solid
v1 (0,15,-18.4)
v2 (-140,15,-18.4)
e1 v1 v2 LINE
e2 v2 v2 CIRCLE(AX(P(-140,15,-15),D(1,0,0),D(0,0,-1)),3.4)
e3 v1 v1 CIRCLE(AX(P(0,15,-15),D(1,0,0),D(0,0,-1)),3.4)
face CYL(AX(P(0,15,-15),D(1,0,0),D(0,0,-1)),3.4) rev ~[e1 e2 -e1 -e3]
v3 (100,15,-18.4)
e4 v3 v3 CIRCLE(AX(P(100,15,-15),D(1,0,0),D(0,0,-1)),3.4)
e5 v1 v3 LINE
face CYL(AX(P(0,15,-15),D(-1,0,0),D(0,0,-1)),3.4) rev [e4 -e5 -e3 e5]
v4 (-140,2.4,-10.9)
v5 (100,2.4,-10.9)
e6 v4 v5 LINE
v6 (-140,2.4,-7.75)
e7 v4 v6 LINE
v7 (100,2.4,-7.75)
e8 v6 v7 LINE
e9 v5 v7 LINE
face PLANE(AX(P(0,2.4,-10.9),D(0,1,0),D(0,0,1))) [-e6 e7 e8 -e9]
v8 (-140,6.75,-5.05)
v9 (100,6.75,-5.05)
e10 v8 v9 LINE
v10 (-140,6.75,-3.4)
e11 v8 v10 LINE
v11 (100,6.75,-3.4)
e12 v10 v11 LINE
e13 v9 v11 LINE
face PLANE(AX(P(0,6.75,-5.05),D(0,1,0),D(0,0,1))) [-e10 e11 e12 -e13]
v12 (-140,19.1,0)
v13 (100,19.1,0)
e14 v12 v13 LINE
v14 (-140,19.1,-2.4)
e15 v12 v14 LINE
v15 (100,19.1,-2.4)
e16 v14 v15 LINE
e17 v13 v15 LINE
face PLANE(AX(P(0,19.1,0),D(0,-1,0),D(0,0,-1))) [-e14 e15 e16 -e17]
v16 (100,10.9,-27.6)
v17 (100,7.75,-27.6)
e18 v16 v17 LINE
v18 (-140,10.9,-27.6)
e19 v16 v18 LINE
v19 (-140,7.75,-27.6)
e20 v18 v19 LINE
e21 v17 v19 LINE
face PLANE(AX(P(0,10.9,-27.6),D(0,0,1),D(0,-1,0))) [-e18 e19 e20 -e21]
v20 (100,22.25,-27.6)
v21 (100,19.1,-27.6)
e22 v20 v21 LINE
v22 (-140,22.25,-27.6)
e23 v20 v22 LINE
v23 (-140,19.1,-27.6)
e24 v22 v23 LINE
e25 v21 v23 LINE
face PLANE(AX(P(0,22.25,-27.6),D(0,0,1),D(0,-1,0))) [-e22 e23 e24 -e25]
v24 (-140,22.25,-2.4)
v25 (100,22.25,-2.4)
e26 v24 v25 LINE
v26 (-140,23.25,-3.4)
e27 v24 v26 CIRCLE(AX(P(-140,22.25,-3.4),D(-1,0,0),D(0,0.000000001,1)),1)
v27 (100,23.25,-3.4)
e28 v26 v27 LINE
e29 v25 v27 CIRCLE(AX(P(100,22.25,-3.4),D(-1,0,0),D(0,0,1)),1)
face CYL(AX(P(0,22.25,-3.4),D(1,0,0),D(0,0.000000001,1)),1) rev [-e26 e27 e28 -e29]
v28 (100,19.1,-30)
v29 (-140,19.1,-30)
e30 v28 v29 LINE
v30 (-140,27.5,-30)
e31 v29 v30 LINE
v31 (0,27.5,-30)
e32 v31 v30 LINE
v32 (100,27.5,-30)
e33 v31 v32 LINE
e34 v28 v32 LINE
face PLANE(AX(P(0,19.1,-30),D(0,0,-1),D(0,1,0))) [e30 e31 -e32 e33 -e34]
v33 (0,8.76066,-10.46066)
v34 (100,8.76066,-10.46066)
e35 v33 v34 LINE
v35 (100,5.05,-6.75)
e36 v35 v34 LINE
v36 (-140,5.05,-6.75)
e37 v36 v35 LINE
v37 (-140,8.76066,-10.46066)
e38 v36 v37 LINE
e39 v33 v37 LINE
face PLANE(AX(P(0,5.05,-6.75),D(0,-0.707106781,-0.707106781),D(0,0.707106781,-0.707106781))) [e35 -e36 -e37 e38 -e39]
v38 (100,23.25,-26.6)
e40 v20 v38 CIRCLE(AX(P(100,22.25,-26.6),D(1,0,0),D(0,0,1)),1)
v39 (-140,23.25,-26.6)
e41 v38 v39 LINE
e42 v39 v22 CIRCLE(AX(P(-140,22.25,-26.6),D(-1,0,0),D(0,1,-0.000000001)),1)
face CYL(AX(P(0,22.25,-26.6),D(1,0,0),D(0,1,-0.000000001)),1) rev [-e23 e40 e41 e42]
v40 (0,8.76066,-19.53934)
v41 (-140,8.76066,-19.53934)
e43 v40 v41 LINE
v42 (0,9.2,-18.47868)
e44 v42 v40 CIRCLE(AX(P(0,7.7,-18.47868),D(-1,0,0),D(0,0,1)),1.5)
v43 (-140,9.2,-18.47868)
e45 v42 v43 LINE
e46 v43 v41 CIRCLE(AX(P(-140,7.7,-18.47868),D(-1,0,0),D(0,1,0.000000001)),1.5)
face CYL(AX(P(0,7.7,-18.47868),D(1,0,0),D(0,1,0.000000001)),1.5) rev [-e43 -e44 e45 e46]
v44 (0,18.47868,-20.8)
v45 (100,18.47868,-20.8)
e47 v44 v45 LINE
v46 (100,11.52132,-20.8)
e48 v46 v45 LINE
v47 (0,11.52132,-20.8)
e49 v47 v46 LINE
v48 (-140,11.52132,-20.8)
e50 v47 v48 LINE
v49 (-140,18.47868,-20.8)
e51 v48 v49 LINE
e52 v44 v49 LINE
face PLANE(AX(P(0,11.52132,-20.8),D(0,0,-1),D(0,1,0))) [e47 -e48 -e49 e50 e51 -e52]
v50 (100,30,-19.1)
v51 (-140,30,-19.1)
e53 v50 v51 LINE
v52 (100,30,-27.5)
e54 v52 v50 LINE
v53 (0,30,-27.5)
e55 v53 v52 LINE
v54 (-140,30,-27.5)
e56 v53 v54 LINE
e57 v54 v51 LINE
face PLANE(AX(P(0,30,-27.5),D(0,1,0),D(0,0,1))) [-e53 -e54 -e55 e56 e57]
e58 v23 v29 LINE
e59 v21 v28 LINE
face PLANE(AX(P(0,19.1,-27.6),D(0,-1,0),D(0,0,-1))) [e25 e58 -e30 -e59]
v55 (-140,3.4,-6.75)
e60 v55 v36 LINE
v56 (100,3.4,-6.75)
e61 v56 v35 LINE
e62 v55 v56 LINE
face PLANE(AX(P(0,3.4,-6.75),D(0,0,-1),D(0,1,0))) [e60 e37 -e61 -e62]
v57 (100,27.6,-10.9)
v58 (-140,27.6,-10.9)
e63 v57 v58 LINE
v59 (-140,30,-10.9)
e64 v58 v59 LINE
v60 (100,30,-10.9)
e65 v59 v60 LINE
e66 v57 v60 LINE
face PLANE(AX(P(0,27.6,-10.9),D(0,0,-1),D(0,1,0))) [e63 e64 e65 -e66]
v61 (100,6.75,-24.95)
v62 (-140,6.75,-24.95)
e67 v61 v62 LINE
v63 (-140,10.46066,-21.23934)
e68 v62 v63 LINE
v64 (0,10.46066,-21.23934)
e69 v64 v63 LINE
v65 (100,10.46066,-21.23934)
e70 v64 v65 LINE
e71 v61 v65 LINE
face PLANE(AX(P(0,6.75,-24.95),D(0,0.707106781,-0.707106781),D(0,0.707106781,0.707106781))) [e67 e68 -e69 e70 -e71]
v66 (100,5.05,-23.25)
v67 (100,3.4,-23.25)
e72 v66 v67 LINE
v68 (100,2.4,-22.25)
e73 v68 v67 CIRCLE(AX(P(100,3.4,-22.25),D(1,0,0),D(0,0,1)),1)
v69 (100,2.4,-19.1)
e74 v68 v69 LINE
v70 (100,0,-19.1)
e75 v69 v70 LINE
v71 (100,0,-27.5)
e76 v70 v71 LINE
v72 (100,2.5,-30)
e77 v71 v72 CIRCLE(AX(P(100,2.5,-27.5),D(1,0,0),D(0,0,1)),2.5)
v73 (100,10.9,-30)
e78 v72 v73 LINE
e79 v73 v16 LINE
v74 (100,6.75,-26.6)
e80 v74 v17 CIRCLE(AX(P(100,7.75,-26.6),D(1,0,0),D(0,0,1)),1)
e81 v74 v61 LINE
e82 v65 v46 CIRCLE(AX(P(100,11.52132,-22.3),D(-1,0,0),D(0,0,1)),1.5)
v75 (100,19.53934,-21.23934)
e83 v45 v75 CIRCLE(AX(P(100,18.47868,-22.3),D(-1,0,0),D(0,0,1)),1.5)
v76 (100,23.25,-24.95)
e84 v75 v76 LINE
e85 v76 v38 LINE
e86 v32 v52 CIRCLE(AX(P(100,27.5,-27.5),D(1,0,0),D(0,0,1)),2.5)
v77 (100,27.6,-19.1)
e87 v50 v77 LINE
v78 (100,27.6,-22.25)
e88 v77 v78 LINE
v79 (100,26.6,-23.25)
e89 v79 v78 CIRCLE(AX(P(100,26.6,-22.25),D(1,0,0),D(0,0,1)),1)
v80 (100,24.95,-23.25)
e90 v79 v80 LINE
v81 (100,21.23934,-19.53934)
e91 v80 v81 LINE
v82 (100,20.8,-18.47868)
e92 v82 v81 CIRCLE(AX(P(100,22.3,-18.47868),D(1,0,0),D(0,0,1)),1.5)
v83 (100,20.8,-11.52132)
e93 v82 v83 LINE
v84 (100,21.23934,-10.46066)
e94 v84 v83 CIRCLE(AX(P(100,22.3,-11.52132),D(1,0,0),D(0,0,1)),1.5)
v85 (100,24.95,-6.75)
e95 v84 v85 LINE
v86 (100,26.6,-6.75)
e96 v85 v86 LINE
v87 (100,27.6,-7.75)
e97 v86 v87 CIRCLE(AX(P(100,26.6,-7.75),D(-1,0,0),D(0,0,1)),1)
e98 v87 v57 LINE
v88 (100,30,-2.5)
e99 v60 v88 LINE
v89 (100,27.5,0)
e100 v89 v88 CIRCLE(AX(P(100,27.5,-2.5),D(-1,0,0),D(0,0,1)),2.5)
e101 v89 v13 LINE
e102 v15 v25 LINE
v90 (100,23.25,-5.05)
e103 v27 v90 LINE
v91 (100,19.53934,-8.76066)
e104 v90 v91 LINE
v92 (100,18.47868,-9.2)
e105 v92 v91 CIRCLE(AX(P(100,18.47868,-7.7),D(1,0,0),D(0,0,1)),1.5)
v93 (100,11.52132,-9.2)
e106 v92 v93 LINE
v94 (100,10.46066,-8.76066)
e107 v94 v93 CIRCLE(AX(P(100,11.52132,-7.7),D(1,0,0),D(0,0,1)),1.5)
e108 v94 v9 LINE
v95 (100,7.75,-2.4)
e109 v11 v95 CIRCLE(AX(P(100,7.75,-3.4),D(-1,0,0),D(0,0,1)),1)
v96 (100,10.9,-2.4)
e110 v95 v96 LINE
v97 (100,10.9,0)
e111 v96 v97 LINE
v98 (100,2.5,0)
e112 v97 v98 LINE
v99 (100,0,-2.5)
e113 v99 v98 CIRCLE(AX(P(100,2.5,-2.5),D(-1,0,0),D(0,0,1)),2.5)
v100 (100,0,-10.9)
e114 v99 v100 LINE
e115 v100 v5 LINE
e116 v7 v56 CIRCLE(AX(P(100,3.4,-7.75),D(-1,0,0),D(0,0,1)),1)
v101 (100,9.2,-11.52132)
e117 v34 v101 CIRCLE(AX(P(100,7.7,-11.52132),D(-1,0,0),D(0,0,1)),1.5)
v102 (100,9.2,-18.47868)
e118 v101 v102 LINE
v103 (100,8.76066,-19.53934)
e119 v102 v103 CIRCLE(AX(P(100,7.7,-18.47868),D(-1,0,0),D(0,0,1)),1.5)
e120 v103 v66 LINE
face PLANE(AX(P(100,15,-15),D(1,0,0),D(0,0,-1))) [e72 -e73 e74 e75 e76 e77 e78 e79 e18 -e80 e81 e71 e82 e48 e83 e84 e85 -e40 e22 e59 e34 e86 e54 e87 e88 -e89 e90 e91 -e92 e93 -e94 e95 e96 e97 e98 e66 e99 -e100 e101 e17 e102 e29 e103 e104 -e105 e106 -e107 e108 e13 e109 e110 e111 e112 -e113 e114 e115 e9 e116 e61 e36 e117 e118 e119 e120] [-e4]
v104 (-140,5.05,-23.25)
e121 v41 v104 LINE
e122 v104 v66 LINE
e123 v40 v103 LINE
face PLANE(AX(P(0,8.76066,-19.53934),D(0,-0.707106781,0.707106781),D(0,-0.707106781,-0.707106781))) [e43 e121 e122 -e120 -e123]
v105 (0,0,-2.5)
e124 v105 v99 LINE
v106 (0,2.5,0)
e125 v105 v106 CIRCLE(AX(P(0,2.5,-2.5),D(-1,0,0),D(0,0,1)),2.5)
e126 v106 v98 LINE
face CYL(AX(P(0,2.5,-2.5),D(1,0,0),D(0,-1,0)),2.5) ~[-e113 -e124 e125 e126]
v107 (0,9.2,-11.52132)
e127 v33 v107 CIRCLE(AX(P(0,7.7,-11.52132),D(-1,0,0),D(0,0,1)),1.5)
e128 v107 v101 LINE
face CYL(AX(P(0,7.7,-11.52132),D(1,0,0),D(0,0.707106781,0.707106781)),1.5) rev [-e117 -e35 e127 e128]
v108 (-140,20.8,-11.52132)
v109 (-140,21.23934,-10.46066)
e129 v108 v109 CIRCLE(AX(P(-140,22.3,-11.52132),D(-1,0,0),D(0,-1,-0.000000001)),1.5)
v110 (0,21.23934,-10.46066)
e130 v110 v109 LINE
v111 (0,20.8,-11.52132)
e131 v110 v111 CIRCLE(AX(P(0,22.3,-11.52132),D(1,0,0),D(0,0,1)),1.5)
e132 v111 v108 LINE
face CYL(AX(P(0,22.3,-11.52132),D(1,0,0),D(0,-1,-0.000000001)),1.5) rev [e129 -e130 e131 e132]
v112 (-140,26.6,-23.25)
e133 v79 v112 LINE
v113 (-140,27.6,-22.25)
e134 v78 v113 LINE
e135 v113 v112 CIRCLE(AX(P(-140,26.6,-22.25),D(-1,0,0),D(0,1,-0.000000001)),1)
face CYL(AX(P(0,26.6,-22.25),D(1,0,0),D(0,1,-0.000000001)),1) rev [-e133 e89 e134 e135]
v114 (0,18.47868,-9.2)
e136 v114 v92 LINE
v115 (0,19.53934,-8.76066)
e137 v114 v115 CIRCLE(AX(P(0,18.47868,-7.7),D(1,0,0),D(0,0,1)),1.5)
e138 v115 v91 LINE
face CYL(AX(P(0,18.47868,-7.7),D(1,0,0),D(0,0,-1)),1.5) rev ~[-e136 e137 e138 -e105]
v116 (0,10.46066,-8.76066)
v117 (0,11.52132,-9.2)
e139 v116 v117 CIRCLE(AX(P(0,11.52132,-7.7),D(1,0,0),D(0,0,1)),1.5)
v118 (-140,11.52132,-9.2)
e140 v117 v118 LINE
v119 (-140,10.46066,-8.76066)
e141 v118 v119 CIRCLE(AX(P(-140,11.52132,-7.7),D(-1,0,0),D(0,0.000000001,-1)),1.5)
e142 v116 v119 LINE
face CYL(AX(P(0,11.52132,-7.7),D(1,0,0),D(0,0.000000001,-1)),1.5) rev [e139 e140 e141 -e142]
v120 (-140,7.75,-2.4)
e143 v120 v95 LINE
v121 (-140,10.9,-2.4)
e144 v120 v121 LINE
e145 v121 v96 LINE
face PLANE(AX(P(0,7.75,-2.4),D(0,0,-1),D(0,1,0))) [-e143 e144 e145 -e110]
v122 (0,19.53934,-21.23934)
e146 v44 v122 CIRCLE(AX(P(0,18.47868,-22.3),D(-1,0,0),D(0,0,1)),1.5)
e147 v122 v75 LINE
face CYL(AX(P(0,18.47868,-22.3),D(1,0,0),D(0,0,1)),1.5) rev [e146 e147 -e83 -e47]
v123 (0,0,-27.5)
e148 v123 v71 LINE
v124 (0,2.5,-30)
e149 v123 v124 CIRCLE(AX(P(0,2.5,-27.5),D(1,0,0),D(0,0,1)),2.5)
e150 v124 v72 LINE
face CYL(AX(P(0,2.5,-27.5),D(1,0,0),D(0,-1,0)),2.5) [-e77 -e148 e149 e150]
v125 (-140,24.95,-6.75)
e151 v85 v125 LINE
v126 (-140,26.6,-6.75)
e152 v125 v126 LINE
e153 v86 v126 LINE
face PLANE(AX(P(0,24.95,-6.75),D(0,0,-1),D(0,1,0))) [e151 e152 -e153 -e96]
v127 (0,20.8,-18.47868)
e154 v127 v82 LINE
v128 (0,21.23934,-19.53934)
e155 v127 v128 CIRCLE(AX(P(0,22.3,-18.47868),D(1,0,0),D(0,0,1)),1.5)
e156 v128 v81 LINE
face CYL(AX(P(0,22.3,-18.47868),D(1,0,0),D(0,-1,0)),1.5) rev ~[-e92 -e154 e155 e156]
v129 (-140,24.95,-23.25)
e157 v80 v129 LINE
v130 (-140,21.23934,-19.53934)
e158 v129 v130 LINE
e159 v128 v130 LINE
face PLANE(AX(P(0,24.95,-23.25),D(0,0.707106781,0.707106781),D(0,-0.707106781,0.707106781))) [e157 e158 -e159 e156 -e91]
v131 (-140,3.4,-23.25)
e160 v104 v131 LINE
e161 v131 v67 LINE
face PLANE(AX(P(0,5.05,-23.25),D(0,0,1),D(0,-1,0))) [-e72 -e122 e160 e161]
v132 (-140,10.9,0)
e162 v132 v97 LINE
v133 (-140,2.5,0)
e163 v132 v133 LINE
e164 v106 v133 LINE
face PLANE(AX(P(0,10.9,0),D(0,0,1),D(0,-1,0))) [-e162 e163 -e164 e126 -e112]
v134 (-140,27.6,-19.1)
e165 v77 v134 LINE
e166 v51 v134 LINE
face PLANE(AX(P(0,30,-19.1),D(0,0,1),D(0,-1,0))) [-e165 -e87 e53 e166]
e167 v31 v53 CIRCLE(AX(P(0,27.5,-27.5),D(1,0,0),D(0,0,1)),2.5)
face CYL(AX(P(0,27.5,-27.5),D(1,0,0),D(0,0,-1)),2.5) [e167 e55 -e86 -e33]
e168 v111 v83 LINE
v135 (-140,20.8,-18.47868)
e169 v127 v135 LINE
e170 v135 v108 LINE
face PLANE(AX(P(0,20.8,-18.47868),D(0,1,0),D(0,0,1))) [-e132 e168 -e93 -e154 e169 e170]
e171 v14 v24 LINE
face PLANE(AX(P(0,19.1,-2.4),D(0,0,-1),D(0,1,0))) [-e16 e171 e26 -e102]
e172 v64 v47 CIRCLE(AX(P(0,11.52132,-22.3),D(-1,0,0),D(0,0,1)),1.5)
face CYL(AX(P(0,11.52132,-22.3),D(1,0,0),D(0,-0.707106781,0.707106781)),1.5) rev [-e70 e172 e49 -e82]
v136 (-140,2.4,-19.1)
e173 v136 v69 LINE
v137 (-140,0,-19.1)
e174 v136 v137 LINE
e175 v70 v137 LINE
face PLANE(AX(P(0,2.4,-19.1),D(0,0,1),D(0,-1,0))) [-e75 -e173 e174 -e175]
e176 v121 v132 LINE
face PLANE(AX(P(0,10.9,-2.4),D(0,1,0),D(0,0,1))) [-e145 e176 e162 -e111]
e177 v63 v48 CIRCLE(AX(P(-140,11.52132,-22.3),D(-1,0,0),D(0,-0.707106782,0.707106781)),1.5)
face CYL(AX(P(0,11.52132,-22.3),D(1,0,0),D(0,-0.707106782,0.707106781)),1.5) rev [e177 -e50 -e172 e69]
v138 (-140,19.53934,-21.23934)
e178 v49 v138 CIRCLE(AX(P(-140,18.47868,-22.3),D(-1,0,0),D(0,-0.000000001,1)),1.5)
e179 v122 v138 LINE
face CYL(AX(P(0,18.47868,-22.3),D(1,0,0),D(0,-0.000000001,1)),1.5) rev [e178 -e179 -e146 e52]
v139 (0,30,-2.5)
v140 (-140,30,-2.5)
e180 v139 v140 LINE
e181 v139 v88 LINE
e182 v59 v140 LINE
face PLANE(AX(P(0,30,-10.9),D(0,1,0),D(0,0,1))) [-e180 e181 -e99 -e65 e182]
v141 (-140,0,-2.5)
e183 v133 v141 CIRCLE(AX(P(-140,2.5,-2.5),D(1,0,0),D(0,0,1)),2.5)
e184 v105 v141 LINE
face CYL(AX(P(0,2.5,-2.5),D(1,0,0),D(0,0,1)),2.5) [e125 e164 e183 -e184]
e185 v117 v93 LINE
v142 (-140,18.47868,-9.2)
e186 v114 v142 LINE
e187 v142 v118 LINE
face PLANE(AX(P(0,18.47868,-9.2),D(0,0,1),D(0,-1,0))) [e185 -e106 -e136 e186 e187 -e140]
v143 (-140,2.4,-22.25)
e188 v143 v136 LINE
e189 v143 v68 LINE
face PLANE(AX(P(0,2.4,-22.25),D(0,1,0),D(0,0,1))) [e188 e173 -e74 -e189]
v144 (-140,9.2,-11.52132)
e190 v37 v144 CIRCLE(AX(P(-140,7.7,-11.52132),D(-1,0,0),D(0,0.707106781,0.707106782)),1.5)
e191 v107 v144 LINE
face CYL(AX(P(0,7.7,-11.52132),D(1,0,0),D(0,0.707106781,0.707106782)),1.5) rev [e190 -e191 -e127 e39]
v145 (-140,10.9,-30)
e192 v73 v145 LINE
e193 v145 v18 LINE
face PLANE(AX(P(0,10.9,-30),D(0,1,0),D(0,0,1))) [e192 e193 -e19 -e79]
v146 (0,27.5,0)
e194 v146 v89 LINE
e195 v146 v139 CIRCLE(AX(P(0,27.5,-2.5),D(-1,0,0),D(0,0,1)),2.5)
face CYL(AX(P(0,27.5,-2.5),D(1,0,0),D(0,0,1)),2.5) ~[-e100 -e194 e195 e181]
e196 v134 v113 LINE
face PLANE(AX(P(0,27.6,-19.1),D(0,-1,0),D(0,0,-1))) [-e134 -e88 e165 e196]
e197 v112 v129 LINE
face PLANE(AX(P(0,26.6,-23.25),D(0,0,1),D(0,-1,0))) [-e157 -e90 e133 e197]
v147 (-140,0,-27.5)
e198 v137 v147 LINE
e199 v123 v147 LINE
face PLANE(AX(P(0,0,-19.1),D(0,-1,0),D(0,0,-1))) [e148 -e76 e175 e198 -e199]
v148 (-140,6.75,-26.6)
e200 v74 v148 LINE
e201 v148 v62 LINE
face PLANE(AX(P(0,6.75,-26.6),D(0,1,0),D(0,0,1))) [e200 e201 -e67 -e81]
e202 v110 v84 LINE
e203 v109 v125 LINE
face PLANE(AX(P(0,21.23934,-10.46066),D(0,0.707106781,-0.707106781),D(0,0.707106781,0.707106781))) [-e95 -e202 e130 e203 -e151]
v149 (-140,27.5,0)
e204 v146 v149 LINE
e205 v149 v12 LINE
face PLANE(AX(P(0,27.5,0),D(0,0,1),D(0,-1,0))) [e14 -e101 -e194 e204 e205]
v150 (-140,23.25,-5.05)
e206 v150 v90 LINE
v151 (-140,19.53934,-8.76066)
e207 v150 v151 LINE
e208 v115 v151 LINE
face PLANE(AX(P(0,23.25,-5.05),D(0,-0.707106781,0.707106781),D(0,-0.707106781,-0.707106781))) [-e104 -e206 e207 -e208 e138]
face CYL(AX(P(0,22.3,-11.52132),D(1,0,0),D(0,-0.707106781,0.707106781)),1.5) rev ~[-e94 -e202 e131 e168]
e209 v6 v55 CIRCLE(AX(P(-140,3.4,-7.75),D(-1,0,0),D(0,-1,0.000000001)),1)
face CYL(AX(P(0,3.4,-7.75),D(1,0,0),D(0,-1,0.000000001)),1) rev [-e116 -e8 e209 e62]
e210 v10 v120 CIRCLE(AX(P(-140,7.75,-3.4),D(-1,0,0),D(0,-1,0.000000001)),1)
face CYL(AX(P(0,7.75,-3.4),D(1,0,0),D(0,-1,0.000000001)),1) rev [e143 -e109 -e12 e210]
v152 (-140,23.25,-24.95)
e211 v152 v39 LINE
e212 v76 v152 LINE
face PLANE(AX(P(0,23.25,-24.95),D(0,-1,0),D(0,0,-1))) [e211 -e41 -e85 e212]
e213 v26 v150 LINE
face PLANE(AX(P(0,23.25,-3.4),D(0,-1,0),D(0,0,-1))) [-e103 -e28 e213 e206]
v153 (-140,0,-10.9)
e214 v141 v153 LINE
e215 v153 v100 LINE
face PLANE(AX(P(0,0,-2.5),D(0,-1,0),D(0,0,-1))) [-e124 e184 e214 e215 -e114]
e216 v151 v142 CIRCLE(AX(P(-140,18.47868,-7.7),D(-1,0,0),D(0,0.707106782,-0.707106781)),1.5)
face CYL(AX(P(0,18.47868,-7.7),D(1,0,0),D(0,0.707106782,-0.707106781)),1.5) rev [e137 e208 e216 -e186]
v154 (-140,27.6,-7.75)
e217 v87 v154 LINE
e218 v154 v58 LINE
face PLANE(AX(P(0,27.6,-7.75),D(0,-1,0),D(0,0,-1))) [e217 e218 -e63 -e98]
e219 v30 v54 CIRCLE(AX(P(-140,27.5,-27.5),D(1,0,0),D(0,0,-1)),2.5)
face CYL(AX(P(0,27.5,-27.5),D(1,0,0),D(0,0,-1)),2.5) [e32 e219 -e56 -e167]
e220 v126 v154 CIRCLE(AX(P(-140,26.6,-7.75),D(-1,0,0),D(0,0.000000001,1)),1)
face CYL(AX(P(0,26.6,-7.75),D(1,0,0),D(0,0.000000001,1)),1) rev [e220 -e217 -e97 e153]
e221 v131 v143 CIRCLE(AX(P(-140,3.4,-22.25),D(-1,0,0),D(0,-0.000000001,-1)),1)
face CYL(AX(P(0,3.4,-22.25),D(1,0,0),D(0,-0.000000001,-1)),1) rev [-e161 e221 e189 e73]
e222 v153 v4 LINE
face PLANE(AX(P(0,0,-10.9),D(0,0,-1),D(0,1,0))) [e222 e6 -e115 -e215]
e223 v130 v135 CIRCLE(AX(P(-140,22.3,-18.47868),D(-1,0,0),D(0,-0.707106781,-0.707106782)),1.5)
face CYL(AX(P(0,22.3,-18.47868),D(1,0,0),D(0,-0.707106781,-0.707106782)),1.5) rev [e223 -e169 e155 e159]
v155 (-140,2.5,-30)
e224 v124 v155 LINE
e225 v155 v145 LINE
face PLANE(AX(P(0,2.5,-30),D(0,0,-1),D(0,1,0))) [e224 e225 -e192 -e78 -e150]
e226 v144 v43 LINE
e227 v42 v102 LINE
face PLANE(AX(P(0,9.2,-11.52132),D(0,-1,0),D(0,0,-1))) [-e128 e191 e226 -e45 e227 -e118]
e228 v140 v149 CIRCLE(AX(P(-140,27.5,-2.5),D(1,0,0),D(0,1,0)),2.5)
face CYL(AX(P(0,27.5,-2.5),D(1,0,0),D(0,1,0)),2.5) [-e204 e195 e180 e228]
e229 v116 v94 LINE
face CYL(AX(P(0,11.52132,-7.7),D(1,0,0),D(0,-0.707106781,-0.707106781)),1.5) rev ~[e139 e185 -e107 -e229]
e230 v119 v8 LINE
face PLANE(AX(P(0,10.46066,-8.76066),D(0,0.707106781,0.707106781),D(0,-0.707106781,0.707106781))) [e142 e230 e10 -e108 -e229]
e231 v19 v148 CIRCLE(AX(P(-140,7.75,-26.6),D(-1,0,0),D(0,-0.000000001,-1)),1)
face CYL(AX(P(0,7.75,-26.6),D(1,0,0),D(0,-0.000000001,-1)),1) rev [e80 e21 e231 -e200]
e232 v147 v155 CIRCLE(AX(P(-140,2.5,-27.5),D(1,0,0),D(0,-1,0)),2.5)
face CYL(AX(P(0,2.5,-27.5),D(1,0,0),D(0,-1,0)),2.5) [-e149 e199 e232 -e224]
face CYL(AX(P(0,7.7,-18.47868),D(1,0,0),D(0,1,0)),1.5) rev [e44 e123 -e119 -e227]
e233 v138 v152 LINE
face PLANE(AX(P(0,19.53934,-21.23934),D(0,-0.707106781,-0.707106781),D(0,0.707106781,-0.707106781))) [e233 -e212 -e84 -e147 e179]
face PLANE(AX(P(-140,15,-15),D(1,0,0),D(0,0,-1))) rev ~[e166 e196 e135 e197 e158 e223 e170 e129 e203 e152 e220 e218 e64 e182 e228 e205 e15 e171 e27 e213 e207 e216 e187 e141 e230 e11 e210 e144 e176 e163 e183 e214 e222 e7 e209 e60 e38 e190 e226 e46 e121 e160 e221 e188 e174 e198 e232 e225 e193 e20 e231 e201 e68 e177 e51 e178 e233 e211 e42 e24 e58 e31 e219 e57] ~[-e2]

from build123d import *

# Parameters (mm, degrees)
SKETCH1_R           = 3.4
BOSS_EXTRUDE2_DEPTH = 100
FILLET5_R           = 2.5
FILLET6_R           = 1.5
FILLET7_R           = 1.5
FILLET8_R           = 1
SKETCH3_R           = 3.4
BOSS_EXTRUDE3_DEPTH = 140


with BuildPart() as part:
    # Sketch1 → Boss-Extrude2 (new body)
    with BuildSketch(Plane(origin=(0, 0, 0), x_dir=(0, 0, -1), z_dir=(1, 0, 0))):
        Polygon((10.9, 0), (10.9, 2.4), (6.75, 2.4), (6.75, 5.05), (10.9, 9.2), (19.1, 9.2), (23.25, 5.05), (23.25, 2.4), (19.1, 2.4), (19.1, 0), (30, 0), (30, 10.9), (27.6, 10.9), (27.6, 6.75), (24.95, 6.75), (20.8, 10.9), (20.8, 19.1), (24.95, 23.25), (27.6, 23.25), (27.6, 19.1), (30, 19.1), (30, 30), (19.1, 30), (19.1, 27.6), (23.25, 27.6), (23.25, 24.95), (19.1, 20.8), (10.9, 20.8), (6.75, 24.95), (6.75, 27.6), (10.9, 27.6), (10.9, 30), (0, 30), (0, 19.1), (2.4, 19.1), (2.4, 23.25), (5.05, 23.25), (9.2, 19.1), (9.2, 10.9), (5.05, 6.75), (2.4, 6.75), (2.4, 10.9), (0, 10.9), (0, 0), align=None)
        with Locations((15, 15)):
            Circle(SKETCH1_R, mode=Mode.SUBTRACT)
    extrude(amount=BOSS_EXTRUDE2_DEPTH)

    # Fillet5
    fillet5_edges = [part.edges().sort_by_distance(p)[0] for p in [
        (50, 30, 0),
        (50, 30, -30),
        (50, 0, -30),
        (50, 0, 0),
    ]]
    fillet(fillet5_edges, radius=FILLET5_R)

    # Fillet6
    fillet6_edges = [part.edges().sort_by_distance(p)[0] for p in [
        (50, 10.9, -9.2),
        (50, 19.1, -9.2),
        (50, 19.1, -20.8),
        (50, 10.9, -20.8),
        (50, 9.2, -19.1),
        (50, 9.2, -10.9),
    ]]
    fillet(fillet6_edges, radius=FILLET6_R)

    # Fillet7
    fillet7_edges = [part.edges().sort_by_distance(p)[0] for p in [
        (50, 20.8, -10.9),
        (50, 20.8, -19.1),
    ]]
    fillet(fillet7_edges, radius=FILLET7_R)

    # Fillet8
    fillet8_edges = [part.edges().sort_by_distance(p)[0] for p in [
        (50, 6.75, -2.4),
        (50, 23.25, -2.4),
        (50, 27.6, -6.75),
        (50, 27.6, -23.25),
        (50, 23.25, -27.6),
        (50, 6.75, -27.6),
        (50, 2.4, -23.25),
        (50, 2.4, -6.75),
    ]]
    fillet(fillet8_edges, radius=FILLET8_R)

    # Sketch3 → Boss-Extrude3 (add)
    with BuildSketch(Plane(origin=(0, 0, 0), x_dir=(0, 0, -1), z_dir=(1, 0, 0))):
        with BuildLine():
            Line((10.9, 27.6), (10.9, 30))
            Line((10.9, 30), (2.5, 30))
            ThreePointArc((2.5, 30), (0.732233047, 29.267766953), (0, 27.5))
            Line((0, 27.5), (0, 19.1))
            Line((0, 19.1), (2.4, 19.1))
            Line((2.4, 19.1), (2.4, 22.25))
            ThreePointArc((2.4, 22.25), (2.692893219, 22.957106781), (3.4, 23.25))
            Line((3.4, 23.25), (5.05, 23.25))
            Line((5.05, 23.25), (8.760660172, 19.539339828))
            ThreePointArc((8.760660172, 19.539339828), (9.085819299, 19.052704805), (9.2, 18.478679656))
            Line((9.2, 18.478679656), (9.2, 11.521320344))
            ThreePointArc((9.2, 11.521320344), (9.085819299, 10.947295195), (8.760660172, 10.460660172))
            Line((8.760660172, 10.460660172), (5.05, 6.75))
            Line((5.05, 6.75), (3.4, 6.75))
            ThreePointArc((3.4, 6.75), (2.692893219, 7.042893219), (2.4, 7.75))
            Line((2.4, 7.75), (2.4, 10.9))
            Line((2.4, 10.9), (0, 10.9))
            Line((0, 10.9), (0, 2.5))
            ThreePointArc((0, 2.5), (0.732233047, 0.732233047), (2.5, 0))
            Line((2.5, 0), (10.9, 0))
            Line((10.9, 0), (10.9, 2.4))
            Line((10.9, 2.4), (7.75, 2.4))
            ThreePointArc((7.75, 2.4), (7.042893219, 2.692893219), (6.75, 3.4))
            Line((6.75, 3.4), (6.75, 5.05))
            Line((6.75, 5.05), (10.460660172, 8.760660172))
            ThreePointArc((10.460660172, 8.760660172), (10.947295195, 9.085819299), (11.521320344, 9.2))
            Line((11.521320344, 9.2), (18.478679656, 9.2))
            ThreePointArc((18.478679656, 9.2), (19.052704805, 9.085819299), (19.539339828, 8.760660172))
            Line((19.539339828, 8.760660172), (23.25, 5.05))
            Line((23.25, 5.05), (23.25, 3.4))
            ThreePointArc((23.25, 3.4), (22.957106781, 2.692893219), (22.25, 2.4))
            Line((22.25, 2.4), (19.1, 2.4))
            Line((19.1, 2.4), (19.1, 0))
            Line((19.1, 0), (27.5, 0))
            ThreePointArc((27.5, 0), (29.267766953, 0.732233047), (30, 2.5))
            Line((30, 2.5), (30, 10.9))
            Line((30, 10.9), (27.6, 10.9))
            Line((27.6, 10.9), (27.6, 7.75))
            ThreePointArc((27.6, 7.75), (27.307106781, 7.042893219), (26.6, 6.75))
            Line((26.6, 6.75), (24.95, 6.75))
            Line((24.95, 6.75), (21.239339828, 10.460660172))
            ThreePointArc((21.239339828, 10.460660172), (20.914180701, 10.947295195), (20.8, 11.521320344))
            Line((20.8, 11.521320344), (20.8, 18.478679656))
            ThreePointArc((20.8, 18.478679656), (20.914180701, 19.052704805), (21.239339828, 19.539339828))
            Line((21.239339828, 19.539339828), (24.95, 23.25))
            Line((24.95, 23.25), (26.6, 23.25))
            ThreePointArc((26.6, 23.25), (27.307106781, 22.957106781), (27.6, 22.25))
            Line((27.6, 22.25), (27.6, 19.1))
            Line((27.6, 19.1), (30, 19.1))
            Line((30, 19.1), (30, 27.5))
            ThreePointArc((30, 27.5), (29.267766953, 29.267766953), (27.5, 30))
            Line((27.5, 30), (19.1, 30))
            Line((19.1, 30), (19.1, 27.6))
            Line((19.1, 27.6), (22.25, 27.6))
            ThreePointArc((22.25, 27.6), (22.957106781, 27.307106781), (23.25, 26.6))
            Line((23.25, 26.6), (23.25, 24.95))
            Line((23.25, 24.95), (19.539339828, 21.239339828))
            ThreePointArc((19.539339828, 21.239339828), (19.052704805, 20.914180701), (18.478679656, 20.8))
            Line((18.478679656, 20.8), (11.521320344, 20.8))
            ThreePointArc((11.521320344, 20.8), (10.947295195, 20.914180701), (10.460660172, 21.239339828))
            Line((10.460660172, 21.239339828), (6.75, 24.95))
            Line((6.75, 24.95), (6.75, 26.6))
            ThreePointArc((6.75, 26.6), (7.042893219, 27.307106781), (7.75, 27.6))
            Line((7.75, 27.6), (10.9, 27.6))
        make_face()
        with Locations((15, 15)):
            Circle(SKETCH3_R, mode=Mode.SUBTRACT)
    extrude(amount=-BOSS_EXTRUDE3_DEPTH)


solid = part.part
